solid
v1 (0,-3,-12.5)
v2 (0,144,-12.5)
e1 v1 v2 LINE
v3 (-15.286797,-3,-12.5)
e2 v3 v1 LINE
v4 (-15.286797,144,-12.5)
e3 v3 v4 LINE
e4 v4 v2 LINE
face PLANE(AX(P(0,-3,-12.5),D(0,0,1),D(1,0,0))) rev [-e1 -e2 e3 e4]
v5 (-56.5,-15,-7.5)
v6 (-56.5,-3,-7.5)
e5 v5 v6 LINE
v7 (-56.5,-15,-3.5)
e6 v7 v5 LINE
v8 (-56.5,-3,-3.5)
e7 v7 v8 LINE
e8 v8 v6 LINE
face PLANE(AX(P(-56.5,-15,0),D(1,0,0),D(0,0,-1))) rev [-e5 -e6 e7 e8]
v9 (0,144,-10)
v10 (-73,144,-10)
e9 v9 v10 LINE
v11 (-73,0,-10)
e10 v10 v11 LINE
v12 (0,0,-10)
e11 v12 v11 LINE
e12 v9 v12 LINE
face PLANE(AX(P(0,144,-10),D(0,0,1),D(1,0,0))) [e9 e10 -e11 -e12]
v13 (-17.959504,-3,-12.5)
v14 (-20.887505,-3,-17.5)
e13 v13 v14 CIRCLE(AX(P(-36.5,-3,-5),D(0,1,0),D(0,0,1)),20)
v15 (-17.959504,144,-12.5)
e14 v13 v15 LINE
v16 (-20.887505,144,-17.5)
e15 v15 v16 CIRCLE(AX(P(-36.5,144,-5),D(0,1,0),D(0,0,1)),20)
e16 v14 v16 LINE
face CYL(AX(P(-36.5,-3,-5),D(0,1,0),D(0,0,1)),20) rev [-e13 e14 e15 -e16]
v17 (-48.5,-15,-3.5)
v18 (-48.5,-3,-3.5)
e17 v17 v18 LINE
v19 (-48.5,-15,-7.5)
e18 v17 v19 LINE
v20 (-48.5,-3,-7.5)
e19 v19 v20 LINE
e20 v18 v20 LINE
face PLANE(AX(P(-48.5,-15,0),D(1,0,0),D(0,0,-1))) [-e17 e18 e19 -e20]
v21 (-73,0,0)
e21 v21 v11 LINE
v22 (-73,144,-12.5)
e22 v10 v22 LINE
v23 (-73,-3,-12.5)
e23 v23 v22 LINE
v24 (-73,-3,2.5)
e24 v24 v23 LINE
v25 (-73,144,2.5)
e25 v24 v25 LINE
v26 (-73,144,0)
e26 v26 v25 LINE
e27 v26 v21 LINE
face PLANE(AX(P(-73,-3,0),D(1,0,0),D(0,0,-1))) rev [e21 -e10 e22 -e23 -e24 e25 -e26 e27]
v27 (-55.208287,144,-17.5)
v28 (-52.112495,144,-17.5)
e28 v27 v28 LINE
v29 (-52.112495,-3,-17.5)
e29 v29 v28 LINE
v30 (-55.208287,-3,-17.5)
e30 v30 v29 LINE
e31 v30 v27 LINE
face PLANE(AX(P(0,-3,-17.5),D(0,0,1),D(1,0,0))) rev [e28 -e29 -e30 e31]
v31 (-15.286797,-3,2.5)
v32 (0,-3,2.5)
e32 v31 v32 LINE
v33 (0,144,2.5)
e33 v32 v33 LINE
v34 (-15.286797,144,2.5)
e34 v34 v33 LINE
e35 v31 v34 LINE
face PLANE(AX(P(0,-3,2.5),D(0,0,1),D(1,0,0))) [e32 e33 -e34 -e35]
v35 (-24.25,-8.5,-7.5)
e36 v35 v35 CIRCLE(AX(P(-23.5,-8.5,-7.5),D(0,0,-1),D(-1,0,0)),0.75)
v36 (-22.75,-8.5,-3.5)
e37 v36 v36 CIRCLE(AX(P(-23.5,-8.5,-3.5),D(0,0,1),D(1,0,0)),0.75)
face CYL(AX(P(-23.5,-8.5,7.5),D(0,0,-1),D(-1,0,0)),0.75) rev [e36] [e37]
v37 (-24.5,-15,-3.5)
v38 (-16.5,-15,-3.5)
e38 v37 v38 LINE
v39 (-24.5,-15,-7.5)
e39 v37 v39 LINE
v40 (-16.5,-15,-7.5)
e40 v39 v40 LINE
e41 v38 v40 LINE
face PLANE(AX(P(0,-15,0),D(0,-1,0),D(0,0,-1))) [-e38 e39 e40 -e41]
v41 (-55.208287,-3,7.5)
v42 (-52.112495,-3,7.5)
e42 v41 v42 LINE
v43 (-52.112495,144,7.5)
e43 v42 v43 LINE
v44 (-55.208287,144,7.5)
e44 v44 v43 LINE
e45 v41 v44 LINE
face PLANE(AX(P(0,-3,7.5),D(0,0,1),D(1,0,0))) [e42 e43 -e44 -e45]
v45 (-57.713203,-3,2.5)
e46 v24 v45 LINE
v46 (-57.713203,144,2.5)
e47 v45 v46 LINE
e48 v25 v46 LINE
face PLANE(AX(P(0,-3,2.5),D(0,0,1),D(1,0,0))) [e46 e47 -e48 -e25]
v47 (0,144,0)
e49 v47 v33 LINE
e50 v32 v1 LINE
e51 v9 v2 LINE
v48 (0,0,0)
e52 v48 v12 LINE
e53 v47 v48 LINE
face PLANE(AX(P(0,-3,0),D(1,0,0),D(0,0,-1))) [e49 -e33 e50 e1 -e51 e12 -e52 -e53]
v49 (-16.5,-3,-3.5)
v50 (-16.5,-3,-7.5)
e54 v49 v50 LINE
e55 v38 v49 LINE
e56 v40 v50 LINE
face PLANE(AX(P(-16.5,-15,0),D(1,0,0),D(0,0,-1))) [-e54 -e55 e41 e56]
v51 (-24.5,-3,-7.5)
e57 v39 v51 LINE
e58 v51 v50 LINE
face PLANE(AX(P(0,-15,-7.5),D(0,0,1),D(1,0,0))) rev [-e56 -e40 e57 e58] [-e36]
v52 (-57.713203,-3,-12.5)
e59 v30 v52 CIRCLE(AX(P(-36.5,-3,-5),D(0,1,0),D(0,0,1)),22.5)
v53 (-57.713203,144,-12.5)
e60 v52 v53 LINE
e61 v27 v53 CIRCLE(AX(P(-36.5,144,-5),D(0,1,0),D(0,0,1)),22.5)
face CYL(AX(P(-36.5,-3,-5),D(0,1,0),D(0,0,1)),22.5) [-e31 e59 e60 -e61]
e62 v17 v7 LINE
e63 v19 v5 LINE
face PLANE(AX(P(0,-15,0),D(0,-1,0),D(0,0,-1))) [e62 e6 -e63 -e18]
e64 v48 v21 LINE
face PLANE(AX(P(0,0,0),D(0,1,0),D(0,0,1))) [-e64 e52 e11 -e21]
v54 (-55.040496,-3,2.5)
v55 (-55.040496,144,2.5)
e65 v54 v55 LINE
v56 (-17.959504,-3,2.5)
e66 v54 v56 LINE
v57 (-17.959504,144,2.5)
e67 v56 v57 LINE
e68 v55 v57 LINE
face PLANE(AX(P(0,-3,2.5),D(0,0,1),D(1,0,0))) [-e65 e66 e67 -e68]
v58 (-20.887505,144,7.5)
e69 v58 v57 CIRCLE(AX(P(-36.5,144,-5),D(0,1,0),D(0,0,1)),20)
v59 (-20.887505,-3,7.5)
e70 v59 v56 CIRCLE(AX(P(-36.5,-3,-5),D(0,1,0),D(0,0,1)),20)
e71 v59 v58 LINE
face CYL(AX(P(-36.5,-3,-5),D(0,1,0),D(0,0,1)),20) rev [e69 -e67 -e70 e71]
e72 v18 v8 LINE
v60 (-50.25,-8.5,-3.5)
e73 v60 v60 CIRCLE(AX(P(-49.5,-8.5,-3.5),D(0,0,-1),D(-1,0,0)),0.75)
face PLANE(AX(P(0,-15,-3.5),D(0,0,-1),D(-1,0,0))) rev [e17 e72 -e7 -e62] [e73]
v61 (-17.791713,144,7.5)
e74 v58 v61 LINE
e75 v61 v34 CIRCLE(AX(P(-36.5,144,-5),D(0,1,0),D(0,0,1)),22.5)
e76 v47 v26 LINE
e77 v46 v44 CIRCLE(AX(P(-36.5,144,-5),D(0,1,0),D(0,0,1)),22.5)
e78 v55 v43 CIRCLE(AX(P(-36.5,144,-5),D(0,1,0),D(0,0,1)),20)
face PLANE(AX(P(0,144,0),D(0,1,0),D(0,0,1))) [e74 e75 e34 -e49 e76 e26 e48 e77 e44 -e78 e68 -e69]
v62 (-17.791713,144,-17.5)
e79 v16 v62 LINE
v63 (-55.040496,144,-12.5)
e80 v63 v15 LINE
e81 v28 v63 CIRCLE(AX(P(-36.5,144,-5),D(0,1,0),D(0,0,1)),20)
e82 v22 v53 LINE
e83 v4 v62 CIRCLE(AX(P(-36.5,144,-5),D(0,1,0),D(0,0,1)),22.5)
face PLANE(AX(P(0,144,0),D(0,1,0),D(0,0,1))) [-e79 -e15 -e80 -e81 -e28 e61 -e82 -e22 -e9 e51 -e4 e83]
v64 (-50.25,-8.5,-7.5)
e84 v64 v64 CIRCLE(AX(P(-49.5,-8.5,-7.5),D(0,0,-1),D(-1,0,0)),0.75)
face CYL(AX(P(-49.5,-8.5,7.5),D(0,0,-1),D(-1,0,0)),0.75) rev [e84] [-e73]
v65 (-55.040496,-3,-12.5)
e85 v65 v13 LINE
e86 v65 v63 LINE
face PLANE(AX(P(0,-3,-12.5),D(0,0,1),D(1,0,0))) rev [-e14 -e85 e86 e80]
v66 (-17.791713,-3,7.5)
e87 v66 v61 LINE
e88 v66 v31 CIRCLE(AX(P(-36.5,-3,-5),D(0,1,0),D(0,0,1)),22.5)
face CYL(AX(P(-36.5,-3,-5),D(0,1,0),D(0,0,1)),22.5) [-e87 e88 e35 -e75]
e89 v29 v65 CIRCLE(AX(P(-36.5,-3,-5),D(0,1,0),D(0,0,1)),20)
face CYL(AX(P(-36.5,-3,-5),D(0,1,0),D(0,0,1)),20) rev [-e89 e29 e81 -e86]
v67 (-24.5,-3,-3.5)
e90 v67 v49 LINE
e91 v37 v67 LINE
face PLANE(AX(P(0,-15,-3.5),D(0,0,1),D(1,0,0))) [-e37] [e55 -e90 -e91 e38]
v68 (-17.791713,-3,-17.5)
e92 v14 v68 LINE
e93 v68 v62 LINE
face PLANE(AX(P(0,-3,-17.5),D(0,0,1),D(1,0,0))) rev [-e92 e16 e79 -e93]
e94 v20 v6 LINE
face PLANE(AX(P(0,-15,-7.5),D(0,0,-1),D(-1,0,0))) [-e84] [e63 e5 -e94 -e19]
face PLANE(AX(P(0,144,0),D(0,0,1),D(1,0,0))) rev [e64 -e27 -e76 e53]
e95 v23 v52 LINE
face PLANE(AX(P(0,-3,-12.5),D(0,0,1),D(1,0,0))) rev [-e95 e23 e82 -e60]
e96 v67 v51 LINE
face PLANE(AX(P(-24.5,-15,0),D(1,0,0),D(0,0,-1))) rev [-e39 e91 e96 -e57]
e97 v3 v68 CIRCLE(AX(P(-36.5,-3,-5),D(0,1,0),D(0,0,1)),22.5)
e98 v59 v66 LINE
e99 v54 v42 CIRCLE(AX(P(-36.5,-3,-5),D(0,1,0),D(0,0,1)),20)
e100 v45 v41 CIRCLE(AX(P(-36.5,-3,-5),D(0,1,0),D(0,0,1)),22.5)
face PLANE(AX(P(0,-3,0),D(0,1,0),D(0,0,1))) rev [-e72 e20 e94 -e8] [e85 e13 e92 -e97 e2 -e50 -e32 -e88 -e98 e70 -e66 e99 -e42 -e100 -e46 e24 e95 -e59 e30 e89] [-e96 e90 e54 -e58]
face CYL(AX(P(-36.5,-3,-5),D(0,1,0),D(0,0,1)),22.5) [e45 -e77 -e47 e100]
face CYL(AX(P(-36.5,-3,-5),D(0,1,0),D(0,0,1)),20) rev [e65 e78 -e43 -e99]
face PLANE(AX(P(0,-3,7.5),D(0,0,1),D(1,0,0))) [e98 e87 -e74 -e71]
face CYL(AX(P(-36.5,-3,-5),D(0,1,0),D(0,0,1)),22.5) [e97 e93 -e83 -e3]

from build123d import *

# Parameters (mm, degrees)
BOSS_EXTRUDE1_DEPTH = 3
BOSS_EXTRUDE2_START = 144
BOSS_EXTRUDE2_DEPTH = 144
SKETCH2_W           = 8
SKETCH2_H           = 4
BOSS_EXTRUDE3_DEPTH = 12
SKETCH3_R           = 0.75
CUT_EXTRUDE1_DEPTH  = 163.14191315


with BuildPart() as part:
    # Sketch1 → Boss-Extrude1 (new body)
    with BuildSketch(Plane(origin=(0, 0, 0), x_dir=(1, 0, 0), z_dir=(0, 1, 0))):
        with BuildLine():
            Line((-17.959503782, 12.5), (-55.040496218, 12.5))
            ThreePointArc((-55.040496218, 12.5), (-53.758525494, 15.106596746), (-52.112494996, 17.5))
            Line((-52.112494996, 17.5), (-55.208286934, 17.5))
            ThreePointArc((-55.208286934, 17.5), (-56.616693275, 15.078127389), (-57.713203436, 12.5))
            Line((-57.713203436, 12.5), (-73, 12.5))
            Line((-73, 12.5), (-73, -2.5))
            Line((-73, -2.5), (-57.713203436, -2.5))
            ThreePointArc((-57.713203436, -2.5), (-56.616693275, -5.078127389), (-55.208286934, -7.5))
            Line((-55.208286934, -7.5), (-52.112494996, -7.5))
            ThreePointArc((-52.112494996, -7.5), (-53.758525494, -5.106596746), (-55.040496218, -2.5))
            Line((-55.040496218, -2.5), (-17.959503782, -2.5))
            ThreePointArc((-17.959503782, -2.5), (-19.241474506, -5.106596746), (-20.887505004, -7.5))
            Line((-20.887505004, -7.5), (-17.791713066, -7.5))
            ThreePointArc((-17.791713066, -7.5), (-16.383306725, -5.078127389), (-15.286796564, -2.5))
            Line((-15.286796564, -2.5), (0, -2.5))
            Line((0, -2.5), (0, 12.5))
            Line((0, 12.5), (-15.286796564, 12.5))
            ThreePointArc((-15.286796564, 12.5), (-16.383306725, 15.078127389), (-17.791713066, 17.5))
            Line((-17.791713066, 17.5), (-20.887505004, 17.5))
            ThreePointArc((-20.887505004, 17.5), (-19.241474506, 15.106596746), (-17.959503782, 12.5))
        make_face()
    extrude(amount=-BOSS_EXTRUDE1_DEPTH)

    # Sketch1<4> → Boss-Extrude2 (add)
    with BuildSketch(Plane(origin=(0, 0, 0), x_dir=(1, 0, 0), z_dir=(0, 1, 0)).offset(BOSS_EXTRUDE2_START)):
        with BuildLine():
            Line((0, 10), (0, 12.5))
            Line((0, 12.5), (-15.286796564, 12.5))
            ThreePointArc((-15.286796564, 12.5), (-16.383306725, 15.078127389), (-17.791713066, 17.5))
            Line((-17.791713066, 17.5), (-20.887505004, 17.5))
            ThreePointArc((-20.887505004, 17.5), (-19.241474506, 15.106596746), (-17.959503782, 12.5))
            Line((-17.959503782, 12.5), (-55.040496218, 12.5))
            ThreePointArc((-55.040496218, 12.5), (-53.758525494, 15.106596746), (-52.112494996, 17.5))
            Line((-52.112494996, 17.5), (-55.208286934, 17.5))
            ThreePointArc((-55.208286934, 17.5), (-56.616693275, 15.078127389), (-57.713203436, 12.5))
            Line((-57.713203436, 12.5), (-73, 12.5))
            Line((-73, 12.5), (-73, 10))
            Line((-73, 10), (0, 10))
        make_face()
        with BuildLine():
            Line((-73, 0), (-73, -2.5))
            Line((-73, -2.5), (-57.713203436, -2.5))
            ThreePointArc((-57.713203436, -2.5), (-56.616693275, -5.078127389), (-55.208286934, -7.5))
            Line((-55.208286934, -7.5), (-52.112494996, -7.5))
            ThreePointArc((-52.112494996, -7.5), (-53.758525494, -5.106596746), (-55.040496218, -2.5))
            Line((-55.040496218, -2.5), (-17.959503782, -2.5))
            ThreePointArc((-17.959503782, -2.5), (-19.241474506, -5.106596746), (-20.887505004, -7.5))
            Line((-20.887505004, -7.5), (-17.791713066, -7.5))
            ThreePointArc((-17.791713066, -7.5), (-16.383306725, -5.078127389), (-15.286796564, -2.5))
            Line((-15.286796564, -2.5), (0, -2.5))
            Line((0, -2.5), (0, 0))
            Line((0, 0), (-73, 0))
        make_face()
    extrude(amount=-BOSS_EXTRUDE2_DEPTH)

    # Sketch2 → Boss-Extrude3 (add)
    with BuildSketch(Plane.XZ.offset(3)):
        with Locations((-52.5, -5.5)):
            Rectangle(SKETCH2_W, SKETCH2_H)
        with Locations((-20.5, -5.5)):
            Rectangle(SKETCH2_W, SKETCH2_H)
    extrude(amount=BOSS_EXTRUDE3_DEPTH)

    # Sketch3 → Cut-Extrude1 (cut, through all)
    with BuildSketch(Plane(origin=(0, 0, -7.5), x_dir=(-1, 0, 0), z_dir=(0, 0, -1))):
        with Locations((23.5, -8.5)):
            Circle(SKETCH3_R)
        with Locations((49.5, -8.5)):
            Circle(SKETCH3_R)
    extrude(amount=-CUT_EXTRUDE1_DEPTH, mode=Mode.SUBTRACT)


solid = part.part
